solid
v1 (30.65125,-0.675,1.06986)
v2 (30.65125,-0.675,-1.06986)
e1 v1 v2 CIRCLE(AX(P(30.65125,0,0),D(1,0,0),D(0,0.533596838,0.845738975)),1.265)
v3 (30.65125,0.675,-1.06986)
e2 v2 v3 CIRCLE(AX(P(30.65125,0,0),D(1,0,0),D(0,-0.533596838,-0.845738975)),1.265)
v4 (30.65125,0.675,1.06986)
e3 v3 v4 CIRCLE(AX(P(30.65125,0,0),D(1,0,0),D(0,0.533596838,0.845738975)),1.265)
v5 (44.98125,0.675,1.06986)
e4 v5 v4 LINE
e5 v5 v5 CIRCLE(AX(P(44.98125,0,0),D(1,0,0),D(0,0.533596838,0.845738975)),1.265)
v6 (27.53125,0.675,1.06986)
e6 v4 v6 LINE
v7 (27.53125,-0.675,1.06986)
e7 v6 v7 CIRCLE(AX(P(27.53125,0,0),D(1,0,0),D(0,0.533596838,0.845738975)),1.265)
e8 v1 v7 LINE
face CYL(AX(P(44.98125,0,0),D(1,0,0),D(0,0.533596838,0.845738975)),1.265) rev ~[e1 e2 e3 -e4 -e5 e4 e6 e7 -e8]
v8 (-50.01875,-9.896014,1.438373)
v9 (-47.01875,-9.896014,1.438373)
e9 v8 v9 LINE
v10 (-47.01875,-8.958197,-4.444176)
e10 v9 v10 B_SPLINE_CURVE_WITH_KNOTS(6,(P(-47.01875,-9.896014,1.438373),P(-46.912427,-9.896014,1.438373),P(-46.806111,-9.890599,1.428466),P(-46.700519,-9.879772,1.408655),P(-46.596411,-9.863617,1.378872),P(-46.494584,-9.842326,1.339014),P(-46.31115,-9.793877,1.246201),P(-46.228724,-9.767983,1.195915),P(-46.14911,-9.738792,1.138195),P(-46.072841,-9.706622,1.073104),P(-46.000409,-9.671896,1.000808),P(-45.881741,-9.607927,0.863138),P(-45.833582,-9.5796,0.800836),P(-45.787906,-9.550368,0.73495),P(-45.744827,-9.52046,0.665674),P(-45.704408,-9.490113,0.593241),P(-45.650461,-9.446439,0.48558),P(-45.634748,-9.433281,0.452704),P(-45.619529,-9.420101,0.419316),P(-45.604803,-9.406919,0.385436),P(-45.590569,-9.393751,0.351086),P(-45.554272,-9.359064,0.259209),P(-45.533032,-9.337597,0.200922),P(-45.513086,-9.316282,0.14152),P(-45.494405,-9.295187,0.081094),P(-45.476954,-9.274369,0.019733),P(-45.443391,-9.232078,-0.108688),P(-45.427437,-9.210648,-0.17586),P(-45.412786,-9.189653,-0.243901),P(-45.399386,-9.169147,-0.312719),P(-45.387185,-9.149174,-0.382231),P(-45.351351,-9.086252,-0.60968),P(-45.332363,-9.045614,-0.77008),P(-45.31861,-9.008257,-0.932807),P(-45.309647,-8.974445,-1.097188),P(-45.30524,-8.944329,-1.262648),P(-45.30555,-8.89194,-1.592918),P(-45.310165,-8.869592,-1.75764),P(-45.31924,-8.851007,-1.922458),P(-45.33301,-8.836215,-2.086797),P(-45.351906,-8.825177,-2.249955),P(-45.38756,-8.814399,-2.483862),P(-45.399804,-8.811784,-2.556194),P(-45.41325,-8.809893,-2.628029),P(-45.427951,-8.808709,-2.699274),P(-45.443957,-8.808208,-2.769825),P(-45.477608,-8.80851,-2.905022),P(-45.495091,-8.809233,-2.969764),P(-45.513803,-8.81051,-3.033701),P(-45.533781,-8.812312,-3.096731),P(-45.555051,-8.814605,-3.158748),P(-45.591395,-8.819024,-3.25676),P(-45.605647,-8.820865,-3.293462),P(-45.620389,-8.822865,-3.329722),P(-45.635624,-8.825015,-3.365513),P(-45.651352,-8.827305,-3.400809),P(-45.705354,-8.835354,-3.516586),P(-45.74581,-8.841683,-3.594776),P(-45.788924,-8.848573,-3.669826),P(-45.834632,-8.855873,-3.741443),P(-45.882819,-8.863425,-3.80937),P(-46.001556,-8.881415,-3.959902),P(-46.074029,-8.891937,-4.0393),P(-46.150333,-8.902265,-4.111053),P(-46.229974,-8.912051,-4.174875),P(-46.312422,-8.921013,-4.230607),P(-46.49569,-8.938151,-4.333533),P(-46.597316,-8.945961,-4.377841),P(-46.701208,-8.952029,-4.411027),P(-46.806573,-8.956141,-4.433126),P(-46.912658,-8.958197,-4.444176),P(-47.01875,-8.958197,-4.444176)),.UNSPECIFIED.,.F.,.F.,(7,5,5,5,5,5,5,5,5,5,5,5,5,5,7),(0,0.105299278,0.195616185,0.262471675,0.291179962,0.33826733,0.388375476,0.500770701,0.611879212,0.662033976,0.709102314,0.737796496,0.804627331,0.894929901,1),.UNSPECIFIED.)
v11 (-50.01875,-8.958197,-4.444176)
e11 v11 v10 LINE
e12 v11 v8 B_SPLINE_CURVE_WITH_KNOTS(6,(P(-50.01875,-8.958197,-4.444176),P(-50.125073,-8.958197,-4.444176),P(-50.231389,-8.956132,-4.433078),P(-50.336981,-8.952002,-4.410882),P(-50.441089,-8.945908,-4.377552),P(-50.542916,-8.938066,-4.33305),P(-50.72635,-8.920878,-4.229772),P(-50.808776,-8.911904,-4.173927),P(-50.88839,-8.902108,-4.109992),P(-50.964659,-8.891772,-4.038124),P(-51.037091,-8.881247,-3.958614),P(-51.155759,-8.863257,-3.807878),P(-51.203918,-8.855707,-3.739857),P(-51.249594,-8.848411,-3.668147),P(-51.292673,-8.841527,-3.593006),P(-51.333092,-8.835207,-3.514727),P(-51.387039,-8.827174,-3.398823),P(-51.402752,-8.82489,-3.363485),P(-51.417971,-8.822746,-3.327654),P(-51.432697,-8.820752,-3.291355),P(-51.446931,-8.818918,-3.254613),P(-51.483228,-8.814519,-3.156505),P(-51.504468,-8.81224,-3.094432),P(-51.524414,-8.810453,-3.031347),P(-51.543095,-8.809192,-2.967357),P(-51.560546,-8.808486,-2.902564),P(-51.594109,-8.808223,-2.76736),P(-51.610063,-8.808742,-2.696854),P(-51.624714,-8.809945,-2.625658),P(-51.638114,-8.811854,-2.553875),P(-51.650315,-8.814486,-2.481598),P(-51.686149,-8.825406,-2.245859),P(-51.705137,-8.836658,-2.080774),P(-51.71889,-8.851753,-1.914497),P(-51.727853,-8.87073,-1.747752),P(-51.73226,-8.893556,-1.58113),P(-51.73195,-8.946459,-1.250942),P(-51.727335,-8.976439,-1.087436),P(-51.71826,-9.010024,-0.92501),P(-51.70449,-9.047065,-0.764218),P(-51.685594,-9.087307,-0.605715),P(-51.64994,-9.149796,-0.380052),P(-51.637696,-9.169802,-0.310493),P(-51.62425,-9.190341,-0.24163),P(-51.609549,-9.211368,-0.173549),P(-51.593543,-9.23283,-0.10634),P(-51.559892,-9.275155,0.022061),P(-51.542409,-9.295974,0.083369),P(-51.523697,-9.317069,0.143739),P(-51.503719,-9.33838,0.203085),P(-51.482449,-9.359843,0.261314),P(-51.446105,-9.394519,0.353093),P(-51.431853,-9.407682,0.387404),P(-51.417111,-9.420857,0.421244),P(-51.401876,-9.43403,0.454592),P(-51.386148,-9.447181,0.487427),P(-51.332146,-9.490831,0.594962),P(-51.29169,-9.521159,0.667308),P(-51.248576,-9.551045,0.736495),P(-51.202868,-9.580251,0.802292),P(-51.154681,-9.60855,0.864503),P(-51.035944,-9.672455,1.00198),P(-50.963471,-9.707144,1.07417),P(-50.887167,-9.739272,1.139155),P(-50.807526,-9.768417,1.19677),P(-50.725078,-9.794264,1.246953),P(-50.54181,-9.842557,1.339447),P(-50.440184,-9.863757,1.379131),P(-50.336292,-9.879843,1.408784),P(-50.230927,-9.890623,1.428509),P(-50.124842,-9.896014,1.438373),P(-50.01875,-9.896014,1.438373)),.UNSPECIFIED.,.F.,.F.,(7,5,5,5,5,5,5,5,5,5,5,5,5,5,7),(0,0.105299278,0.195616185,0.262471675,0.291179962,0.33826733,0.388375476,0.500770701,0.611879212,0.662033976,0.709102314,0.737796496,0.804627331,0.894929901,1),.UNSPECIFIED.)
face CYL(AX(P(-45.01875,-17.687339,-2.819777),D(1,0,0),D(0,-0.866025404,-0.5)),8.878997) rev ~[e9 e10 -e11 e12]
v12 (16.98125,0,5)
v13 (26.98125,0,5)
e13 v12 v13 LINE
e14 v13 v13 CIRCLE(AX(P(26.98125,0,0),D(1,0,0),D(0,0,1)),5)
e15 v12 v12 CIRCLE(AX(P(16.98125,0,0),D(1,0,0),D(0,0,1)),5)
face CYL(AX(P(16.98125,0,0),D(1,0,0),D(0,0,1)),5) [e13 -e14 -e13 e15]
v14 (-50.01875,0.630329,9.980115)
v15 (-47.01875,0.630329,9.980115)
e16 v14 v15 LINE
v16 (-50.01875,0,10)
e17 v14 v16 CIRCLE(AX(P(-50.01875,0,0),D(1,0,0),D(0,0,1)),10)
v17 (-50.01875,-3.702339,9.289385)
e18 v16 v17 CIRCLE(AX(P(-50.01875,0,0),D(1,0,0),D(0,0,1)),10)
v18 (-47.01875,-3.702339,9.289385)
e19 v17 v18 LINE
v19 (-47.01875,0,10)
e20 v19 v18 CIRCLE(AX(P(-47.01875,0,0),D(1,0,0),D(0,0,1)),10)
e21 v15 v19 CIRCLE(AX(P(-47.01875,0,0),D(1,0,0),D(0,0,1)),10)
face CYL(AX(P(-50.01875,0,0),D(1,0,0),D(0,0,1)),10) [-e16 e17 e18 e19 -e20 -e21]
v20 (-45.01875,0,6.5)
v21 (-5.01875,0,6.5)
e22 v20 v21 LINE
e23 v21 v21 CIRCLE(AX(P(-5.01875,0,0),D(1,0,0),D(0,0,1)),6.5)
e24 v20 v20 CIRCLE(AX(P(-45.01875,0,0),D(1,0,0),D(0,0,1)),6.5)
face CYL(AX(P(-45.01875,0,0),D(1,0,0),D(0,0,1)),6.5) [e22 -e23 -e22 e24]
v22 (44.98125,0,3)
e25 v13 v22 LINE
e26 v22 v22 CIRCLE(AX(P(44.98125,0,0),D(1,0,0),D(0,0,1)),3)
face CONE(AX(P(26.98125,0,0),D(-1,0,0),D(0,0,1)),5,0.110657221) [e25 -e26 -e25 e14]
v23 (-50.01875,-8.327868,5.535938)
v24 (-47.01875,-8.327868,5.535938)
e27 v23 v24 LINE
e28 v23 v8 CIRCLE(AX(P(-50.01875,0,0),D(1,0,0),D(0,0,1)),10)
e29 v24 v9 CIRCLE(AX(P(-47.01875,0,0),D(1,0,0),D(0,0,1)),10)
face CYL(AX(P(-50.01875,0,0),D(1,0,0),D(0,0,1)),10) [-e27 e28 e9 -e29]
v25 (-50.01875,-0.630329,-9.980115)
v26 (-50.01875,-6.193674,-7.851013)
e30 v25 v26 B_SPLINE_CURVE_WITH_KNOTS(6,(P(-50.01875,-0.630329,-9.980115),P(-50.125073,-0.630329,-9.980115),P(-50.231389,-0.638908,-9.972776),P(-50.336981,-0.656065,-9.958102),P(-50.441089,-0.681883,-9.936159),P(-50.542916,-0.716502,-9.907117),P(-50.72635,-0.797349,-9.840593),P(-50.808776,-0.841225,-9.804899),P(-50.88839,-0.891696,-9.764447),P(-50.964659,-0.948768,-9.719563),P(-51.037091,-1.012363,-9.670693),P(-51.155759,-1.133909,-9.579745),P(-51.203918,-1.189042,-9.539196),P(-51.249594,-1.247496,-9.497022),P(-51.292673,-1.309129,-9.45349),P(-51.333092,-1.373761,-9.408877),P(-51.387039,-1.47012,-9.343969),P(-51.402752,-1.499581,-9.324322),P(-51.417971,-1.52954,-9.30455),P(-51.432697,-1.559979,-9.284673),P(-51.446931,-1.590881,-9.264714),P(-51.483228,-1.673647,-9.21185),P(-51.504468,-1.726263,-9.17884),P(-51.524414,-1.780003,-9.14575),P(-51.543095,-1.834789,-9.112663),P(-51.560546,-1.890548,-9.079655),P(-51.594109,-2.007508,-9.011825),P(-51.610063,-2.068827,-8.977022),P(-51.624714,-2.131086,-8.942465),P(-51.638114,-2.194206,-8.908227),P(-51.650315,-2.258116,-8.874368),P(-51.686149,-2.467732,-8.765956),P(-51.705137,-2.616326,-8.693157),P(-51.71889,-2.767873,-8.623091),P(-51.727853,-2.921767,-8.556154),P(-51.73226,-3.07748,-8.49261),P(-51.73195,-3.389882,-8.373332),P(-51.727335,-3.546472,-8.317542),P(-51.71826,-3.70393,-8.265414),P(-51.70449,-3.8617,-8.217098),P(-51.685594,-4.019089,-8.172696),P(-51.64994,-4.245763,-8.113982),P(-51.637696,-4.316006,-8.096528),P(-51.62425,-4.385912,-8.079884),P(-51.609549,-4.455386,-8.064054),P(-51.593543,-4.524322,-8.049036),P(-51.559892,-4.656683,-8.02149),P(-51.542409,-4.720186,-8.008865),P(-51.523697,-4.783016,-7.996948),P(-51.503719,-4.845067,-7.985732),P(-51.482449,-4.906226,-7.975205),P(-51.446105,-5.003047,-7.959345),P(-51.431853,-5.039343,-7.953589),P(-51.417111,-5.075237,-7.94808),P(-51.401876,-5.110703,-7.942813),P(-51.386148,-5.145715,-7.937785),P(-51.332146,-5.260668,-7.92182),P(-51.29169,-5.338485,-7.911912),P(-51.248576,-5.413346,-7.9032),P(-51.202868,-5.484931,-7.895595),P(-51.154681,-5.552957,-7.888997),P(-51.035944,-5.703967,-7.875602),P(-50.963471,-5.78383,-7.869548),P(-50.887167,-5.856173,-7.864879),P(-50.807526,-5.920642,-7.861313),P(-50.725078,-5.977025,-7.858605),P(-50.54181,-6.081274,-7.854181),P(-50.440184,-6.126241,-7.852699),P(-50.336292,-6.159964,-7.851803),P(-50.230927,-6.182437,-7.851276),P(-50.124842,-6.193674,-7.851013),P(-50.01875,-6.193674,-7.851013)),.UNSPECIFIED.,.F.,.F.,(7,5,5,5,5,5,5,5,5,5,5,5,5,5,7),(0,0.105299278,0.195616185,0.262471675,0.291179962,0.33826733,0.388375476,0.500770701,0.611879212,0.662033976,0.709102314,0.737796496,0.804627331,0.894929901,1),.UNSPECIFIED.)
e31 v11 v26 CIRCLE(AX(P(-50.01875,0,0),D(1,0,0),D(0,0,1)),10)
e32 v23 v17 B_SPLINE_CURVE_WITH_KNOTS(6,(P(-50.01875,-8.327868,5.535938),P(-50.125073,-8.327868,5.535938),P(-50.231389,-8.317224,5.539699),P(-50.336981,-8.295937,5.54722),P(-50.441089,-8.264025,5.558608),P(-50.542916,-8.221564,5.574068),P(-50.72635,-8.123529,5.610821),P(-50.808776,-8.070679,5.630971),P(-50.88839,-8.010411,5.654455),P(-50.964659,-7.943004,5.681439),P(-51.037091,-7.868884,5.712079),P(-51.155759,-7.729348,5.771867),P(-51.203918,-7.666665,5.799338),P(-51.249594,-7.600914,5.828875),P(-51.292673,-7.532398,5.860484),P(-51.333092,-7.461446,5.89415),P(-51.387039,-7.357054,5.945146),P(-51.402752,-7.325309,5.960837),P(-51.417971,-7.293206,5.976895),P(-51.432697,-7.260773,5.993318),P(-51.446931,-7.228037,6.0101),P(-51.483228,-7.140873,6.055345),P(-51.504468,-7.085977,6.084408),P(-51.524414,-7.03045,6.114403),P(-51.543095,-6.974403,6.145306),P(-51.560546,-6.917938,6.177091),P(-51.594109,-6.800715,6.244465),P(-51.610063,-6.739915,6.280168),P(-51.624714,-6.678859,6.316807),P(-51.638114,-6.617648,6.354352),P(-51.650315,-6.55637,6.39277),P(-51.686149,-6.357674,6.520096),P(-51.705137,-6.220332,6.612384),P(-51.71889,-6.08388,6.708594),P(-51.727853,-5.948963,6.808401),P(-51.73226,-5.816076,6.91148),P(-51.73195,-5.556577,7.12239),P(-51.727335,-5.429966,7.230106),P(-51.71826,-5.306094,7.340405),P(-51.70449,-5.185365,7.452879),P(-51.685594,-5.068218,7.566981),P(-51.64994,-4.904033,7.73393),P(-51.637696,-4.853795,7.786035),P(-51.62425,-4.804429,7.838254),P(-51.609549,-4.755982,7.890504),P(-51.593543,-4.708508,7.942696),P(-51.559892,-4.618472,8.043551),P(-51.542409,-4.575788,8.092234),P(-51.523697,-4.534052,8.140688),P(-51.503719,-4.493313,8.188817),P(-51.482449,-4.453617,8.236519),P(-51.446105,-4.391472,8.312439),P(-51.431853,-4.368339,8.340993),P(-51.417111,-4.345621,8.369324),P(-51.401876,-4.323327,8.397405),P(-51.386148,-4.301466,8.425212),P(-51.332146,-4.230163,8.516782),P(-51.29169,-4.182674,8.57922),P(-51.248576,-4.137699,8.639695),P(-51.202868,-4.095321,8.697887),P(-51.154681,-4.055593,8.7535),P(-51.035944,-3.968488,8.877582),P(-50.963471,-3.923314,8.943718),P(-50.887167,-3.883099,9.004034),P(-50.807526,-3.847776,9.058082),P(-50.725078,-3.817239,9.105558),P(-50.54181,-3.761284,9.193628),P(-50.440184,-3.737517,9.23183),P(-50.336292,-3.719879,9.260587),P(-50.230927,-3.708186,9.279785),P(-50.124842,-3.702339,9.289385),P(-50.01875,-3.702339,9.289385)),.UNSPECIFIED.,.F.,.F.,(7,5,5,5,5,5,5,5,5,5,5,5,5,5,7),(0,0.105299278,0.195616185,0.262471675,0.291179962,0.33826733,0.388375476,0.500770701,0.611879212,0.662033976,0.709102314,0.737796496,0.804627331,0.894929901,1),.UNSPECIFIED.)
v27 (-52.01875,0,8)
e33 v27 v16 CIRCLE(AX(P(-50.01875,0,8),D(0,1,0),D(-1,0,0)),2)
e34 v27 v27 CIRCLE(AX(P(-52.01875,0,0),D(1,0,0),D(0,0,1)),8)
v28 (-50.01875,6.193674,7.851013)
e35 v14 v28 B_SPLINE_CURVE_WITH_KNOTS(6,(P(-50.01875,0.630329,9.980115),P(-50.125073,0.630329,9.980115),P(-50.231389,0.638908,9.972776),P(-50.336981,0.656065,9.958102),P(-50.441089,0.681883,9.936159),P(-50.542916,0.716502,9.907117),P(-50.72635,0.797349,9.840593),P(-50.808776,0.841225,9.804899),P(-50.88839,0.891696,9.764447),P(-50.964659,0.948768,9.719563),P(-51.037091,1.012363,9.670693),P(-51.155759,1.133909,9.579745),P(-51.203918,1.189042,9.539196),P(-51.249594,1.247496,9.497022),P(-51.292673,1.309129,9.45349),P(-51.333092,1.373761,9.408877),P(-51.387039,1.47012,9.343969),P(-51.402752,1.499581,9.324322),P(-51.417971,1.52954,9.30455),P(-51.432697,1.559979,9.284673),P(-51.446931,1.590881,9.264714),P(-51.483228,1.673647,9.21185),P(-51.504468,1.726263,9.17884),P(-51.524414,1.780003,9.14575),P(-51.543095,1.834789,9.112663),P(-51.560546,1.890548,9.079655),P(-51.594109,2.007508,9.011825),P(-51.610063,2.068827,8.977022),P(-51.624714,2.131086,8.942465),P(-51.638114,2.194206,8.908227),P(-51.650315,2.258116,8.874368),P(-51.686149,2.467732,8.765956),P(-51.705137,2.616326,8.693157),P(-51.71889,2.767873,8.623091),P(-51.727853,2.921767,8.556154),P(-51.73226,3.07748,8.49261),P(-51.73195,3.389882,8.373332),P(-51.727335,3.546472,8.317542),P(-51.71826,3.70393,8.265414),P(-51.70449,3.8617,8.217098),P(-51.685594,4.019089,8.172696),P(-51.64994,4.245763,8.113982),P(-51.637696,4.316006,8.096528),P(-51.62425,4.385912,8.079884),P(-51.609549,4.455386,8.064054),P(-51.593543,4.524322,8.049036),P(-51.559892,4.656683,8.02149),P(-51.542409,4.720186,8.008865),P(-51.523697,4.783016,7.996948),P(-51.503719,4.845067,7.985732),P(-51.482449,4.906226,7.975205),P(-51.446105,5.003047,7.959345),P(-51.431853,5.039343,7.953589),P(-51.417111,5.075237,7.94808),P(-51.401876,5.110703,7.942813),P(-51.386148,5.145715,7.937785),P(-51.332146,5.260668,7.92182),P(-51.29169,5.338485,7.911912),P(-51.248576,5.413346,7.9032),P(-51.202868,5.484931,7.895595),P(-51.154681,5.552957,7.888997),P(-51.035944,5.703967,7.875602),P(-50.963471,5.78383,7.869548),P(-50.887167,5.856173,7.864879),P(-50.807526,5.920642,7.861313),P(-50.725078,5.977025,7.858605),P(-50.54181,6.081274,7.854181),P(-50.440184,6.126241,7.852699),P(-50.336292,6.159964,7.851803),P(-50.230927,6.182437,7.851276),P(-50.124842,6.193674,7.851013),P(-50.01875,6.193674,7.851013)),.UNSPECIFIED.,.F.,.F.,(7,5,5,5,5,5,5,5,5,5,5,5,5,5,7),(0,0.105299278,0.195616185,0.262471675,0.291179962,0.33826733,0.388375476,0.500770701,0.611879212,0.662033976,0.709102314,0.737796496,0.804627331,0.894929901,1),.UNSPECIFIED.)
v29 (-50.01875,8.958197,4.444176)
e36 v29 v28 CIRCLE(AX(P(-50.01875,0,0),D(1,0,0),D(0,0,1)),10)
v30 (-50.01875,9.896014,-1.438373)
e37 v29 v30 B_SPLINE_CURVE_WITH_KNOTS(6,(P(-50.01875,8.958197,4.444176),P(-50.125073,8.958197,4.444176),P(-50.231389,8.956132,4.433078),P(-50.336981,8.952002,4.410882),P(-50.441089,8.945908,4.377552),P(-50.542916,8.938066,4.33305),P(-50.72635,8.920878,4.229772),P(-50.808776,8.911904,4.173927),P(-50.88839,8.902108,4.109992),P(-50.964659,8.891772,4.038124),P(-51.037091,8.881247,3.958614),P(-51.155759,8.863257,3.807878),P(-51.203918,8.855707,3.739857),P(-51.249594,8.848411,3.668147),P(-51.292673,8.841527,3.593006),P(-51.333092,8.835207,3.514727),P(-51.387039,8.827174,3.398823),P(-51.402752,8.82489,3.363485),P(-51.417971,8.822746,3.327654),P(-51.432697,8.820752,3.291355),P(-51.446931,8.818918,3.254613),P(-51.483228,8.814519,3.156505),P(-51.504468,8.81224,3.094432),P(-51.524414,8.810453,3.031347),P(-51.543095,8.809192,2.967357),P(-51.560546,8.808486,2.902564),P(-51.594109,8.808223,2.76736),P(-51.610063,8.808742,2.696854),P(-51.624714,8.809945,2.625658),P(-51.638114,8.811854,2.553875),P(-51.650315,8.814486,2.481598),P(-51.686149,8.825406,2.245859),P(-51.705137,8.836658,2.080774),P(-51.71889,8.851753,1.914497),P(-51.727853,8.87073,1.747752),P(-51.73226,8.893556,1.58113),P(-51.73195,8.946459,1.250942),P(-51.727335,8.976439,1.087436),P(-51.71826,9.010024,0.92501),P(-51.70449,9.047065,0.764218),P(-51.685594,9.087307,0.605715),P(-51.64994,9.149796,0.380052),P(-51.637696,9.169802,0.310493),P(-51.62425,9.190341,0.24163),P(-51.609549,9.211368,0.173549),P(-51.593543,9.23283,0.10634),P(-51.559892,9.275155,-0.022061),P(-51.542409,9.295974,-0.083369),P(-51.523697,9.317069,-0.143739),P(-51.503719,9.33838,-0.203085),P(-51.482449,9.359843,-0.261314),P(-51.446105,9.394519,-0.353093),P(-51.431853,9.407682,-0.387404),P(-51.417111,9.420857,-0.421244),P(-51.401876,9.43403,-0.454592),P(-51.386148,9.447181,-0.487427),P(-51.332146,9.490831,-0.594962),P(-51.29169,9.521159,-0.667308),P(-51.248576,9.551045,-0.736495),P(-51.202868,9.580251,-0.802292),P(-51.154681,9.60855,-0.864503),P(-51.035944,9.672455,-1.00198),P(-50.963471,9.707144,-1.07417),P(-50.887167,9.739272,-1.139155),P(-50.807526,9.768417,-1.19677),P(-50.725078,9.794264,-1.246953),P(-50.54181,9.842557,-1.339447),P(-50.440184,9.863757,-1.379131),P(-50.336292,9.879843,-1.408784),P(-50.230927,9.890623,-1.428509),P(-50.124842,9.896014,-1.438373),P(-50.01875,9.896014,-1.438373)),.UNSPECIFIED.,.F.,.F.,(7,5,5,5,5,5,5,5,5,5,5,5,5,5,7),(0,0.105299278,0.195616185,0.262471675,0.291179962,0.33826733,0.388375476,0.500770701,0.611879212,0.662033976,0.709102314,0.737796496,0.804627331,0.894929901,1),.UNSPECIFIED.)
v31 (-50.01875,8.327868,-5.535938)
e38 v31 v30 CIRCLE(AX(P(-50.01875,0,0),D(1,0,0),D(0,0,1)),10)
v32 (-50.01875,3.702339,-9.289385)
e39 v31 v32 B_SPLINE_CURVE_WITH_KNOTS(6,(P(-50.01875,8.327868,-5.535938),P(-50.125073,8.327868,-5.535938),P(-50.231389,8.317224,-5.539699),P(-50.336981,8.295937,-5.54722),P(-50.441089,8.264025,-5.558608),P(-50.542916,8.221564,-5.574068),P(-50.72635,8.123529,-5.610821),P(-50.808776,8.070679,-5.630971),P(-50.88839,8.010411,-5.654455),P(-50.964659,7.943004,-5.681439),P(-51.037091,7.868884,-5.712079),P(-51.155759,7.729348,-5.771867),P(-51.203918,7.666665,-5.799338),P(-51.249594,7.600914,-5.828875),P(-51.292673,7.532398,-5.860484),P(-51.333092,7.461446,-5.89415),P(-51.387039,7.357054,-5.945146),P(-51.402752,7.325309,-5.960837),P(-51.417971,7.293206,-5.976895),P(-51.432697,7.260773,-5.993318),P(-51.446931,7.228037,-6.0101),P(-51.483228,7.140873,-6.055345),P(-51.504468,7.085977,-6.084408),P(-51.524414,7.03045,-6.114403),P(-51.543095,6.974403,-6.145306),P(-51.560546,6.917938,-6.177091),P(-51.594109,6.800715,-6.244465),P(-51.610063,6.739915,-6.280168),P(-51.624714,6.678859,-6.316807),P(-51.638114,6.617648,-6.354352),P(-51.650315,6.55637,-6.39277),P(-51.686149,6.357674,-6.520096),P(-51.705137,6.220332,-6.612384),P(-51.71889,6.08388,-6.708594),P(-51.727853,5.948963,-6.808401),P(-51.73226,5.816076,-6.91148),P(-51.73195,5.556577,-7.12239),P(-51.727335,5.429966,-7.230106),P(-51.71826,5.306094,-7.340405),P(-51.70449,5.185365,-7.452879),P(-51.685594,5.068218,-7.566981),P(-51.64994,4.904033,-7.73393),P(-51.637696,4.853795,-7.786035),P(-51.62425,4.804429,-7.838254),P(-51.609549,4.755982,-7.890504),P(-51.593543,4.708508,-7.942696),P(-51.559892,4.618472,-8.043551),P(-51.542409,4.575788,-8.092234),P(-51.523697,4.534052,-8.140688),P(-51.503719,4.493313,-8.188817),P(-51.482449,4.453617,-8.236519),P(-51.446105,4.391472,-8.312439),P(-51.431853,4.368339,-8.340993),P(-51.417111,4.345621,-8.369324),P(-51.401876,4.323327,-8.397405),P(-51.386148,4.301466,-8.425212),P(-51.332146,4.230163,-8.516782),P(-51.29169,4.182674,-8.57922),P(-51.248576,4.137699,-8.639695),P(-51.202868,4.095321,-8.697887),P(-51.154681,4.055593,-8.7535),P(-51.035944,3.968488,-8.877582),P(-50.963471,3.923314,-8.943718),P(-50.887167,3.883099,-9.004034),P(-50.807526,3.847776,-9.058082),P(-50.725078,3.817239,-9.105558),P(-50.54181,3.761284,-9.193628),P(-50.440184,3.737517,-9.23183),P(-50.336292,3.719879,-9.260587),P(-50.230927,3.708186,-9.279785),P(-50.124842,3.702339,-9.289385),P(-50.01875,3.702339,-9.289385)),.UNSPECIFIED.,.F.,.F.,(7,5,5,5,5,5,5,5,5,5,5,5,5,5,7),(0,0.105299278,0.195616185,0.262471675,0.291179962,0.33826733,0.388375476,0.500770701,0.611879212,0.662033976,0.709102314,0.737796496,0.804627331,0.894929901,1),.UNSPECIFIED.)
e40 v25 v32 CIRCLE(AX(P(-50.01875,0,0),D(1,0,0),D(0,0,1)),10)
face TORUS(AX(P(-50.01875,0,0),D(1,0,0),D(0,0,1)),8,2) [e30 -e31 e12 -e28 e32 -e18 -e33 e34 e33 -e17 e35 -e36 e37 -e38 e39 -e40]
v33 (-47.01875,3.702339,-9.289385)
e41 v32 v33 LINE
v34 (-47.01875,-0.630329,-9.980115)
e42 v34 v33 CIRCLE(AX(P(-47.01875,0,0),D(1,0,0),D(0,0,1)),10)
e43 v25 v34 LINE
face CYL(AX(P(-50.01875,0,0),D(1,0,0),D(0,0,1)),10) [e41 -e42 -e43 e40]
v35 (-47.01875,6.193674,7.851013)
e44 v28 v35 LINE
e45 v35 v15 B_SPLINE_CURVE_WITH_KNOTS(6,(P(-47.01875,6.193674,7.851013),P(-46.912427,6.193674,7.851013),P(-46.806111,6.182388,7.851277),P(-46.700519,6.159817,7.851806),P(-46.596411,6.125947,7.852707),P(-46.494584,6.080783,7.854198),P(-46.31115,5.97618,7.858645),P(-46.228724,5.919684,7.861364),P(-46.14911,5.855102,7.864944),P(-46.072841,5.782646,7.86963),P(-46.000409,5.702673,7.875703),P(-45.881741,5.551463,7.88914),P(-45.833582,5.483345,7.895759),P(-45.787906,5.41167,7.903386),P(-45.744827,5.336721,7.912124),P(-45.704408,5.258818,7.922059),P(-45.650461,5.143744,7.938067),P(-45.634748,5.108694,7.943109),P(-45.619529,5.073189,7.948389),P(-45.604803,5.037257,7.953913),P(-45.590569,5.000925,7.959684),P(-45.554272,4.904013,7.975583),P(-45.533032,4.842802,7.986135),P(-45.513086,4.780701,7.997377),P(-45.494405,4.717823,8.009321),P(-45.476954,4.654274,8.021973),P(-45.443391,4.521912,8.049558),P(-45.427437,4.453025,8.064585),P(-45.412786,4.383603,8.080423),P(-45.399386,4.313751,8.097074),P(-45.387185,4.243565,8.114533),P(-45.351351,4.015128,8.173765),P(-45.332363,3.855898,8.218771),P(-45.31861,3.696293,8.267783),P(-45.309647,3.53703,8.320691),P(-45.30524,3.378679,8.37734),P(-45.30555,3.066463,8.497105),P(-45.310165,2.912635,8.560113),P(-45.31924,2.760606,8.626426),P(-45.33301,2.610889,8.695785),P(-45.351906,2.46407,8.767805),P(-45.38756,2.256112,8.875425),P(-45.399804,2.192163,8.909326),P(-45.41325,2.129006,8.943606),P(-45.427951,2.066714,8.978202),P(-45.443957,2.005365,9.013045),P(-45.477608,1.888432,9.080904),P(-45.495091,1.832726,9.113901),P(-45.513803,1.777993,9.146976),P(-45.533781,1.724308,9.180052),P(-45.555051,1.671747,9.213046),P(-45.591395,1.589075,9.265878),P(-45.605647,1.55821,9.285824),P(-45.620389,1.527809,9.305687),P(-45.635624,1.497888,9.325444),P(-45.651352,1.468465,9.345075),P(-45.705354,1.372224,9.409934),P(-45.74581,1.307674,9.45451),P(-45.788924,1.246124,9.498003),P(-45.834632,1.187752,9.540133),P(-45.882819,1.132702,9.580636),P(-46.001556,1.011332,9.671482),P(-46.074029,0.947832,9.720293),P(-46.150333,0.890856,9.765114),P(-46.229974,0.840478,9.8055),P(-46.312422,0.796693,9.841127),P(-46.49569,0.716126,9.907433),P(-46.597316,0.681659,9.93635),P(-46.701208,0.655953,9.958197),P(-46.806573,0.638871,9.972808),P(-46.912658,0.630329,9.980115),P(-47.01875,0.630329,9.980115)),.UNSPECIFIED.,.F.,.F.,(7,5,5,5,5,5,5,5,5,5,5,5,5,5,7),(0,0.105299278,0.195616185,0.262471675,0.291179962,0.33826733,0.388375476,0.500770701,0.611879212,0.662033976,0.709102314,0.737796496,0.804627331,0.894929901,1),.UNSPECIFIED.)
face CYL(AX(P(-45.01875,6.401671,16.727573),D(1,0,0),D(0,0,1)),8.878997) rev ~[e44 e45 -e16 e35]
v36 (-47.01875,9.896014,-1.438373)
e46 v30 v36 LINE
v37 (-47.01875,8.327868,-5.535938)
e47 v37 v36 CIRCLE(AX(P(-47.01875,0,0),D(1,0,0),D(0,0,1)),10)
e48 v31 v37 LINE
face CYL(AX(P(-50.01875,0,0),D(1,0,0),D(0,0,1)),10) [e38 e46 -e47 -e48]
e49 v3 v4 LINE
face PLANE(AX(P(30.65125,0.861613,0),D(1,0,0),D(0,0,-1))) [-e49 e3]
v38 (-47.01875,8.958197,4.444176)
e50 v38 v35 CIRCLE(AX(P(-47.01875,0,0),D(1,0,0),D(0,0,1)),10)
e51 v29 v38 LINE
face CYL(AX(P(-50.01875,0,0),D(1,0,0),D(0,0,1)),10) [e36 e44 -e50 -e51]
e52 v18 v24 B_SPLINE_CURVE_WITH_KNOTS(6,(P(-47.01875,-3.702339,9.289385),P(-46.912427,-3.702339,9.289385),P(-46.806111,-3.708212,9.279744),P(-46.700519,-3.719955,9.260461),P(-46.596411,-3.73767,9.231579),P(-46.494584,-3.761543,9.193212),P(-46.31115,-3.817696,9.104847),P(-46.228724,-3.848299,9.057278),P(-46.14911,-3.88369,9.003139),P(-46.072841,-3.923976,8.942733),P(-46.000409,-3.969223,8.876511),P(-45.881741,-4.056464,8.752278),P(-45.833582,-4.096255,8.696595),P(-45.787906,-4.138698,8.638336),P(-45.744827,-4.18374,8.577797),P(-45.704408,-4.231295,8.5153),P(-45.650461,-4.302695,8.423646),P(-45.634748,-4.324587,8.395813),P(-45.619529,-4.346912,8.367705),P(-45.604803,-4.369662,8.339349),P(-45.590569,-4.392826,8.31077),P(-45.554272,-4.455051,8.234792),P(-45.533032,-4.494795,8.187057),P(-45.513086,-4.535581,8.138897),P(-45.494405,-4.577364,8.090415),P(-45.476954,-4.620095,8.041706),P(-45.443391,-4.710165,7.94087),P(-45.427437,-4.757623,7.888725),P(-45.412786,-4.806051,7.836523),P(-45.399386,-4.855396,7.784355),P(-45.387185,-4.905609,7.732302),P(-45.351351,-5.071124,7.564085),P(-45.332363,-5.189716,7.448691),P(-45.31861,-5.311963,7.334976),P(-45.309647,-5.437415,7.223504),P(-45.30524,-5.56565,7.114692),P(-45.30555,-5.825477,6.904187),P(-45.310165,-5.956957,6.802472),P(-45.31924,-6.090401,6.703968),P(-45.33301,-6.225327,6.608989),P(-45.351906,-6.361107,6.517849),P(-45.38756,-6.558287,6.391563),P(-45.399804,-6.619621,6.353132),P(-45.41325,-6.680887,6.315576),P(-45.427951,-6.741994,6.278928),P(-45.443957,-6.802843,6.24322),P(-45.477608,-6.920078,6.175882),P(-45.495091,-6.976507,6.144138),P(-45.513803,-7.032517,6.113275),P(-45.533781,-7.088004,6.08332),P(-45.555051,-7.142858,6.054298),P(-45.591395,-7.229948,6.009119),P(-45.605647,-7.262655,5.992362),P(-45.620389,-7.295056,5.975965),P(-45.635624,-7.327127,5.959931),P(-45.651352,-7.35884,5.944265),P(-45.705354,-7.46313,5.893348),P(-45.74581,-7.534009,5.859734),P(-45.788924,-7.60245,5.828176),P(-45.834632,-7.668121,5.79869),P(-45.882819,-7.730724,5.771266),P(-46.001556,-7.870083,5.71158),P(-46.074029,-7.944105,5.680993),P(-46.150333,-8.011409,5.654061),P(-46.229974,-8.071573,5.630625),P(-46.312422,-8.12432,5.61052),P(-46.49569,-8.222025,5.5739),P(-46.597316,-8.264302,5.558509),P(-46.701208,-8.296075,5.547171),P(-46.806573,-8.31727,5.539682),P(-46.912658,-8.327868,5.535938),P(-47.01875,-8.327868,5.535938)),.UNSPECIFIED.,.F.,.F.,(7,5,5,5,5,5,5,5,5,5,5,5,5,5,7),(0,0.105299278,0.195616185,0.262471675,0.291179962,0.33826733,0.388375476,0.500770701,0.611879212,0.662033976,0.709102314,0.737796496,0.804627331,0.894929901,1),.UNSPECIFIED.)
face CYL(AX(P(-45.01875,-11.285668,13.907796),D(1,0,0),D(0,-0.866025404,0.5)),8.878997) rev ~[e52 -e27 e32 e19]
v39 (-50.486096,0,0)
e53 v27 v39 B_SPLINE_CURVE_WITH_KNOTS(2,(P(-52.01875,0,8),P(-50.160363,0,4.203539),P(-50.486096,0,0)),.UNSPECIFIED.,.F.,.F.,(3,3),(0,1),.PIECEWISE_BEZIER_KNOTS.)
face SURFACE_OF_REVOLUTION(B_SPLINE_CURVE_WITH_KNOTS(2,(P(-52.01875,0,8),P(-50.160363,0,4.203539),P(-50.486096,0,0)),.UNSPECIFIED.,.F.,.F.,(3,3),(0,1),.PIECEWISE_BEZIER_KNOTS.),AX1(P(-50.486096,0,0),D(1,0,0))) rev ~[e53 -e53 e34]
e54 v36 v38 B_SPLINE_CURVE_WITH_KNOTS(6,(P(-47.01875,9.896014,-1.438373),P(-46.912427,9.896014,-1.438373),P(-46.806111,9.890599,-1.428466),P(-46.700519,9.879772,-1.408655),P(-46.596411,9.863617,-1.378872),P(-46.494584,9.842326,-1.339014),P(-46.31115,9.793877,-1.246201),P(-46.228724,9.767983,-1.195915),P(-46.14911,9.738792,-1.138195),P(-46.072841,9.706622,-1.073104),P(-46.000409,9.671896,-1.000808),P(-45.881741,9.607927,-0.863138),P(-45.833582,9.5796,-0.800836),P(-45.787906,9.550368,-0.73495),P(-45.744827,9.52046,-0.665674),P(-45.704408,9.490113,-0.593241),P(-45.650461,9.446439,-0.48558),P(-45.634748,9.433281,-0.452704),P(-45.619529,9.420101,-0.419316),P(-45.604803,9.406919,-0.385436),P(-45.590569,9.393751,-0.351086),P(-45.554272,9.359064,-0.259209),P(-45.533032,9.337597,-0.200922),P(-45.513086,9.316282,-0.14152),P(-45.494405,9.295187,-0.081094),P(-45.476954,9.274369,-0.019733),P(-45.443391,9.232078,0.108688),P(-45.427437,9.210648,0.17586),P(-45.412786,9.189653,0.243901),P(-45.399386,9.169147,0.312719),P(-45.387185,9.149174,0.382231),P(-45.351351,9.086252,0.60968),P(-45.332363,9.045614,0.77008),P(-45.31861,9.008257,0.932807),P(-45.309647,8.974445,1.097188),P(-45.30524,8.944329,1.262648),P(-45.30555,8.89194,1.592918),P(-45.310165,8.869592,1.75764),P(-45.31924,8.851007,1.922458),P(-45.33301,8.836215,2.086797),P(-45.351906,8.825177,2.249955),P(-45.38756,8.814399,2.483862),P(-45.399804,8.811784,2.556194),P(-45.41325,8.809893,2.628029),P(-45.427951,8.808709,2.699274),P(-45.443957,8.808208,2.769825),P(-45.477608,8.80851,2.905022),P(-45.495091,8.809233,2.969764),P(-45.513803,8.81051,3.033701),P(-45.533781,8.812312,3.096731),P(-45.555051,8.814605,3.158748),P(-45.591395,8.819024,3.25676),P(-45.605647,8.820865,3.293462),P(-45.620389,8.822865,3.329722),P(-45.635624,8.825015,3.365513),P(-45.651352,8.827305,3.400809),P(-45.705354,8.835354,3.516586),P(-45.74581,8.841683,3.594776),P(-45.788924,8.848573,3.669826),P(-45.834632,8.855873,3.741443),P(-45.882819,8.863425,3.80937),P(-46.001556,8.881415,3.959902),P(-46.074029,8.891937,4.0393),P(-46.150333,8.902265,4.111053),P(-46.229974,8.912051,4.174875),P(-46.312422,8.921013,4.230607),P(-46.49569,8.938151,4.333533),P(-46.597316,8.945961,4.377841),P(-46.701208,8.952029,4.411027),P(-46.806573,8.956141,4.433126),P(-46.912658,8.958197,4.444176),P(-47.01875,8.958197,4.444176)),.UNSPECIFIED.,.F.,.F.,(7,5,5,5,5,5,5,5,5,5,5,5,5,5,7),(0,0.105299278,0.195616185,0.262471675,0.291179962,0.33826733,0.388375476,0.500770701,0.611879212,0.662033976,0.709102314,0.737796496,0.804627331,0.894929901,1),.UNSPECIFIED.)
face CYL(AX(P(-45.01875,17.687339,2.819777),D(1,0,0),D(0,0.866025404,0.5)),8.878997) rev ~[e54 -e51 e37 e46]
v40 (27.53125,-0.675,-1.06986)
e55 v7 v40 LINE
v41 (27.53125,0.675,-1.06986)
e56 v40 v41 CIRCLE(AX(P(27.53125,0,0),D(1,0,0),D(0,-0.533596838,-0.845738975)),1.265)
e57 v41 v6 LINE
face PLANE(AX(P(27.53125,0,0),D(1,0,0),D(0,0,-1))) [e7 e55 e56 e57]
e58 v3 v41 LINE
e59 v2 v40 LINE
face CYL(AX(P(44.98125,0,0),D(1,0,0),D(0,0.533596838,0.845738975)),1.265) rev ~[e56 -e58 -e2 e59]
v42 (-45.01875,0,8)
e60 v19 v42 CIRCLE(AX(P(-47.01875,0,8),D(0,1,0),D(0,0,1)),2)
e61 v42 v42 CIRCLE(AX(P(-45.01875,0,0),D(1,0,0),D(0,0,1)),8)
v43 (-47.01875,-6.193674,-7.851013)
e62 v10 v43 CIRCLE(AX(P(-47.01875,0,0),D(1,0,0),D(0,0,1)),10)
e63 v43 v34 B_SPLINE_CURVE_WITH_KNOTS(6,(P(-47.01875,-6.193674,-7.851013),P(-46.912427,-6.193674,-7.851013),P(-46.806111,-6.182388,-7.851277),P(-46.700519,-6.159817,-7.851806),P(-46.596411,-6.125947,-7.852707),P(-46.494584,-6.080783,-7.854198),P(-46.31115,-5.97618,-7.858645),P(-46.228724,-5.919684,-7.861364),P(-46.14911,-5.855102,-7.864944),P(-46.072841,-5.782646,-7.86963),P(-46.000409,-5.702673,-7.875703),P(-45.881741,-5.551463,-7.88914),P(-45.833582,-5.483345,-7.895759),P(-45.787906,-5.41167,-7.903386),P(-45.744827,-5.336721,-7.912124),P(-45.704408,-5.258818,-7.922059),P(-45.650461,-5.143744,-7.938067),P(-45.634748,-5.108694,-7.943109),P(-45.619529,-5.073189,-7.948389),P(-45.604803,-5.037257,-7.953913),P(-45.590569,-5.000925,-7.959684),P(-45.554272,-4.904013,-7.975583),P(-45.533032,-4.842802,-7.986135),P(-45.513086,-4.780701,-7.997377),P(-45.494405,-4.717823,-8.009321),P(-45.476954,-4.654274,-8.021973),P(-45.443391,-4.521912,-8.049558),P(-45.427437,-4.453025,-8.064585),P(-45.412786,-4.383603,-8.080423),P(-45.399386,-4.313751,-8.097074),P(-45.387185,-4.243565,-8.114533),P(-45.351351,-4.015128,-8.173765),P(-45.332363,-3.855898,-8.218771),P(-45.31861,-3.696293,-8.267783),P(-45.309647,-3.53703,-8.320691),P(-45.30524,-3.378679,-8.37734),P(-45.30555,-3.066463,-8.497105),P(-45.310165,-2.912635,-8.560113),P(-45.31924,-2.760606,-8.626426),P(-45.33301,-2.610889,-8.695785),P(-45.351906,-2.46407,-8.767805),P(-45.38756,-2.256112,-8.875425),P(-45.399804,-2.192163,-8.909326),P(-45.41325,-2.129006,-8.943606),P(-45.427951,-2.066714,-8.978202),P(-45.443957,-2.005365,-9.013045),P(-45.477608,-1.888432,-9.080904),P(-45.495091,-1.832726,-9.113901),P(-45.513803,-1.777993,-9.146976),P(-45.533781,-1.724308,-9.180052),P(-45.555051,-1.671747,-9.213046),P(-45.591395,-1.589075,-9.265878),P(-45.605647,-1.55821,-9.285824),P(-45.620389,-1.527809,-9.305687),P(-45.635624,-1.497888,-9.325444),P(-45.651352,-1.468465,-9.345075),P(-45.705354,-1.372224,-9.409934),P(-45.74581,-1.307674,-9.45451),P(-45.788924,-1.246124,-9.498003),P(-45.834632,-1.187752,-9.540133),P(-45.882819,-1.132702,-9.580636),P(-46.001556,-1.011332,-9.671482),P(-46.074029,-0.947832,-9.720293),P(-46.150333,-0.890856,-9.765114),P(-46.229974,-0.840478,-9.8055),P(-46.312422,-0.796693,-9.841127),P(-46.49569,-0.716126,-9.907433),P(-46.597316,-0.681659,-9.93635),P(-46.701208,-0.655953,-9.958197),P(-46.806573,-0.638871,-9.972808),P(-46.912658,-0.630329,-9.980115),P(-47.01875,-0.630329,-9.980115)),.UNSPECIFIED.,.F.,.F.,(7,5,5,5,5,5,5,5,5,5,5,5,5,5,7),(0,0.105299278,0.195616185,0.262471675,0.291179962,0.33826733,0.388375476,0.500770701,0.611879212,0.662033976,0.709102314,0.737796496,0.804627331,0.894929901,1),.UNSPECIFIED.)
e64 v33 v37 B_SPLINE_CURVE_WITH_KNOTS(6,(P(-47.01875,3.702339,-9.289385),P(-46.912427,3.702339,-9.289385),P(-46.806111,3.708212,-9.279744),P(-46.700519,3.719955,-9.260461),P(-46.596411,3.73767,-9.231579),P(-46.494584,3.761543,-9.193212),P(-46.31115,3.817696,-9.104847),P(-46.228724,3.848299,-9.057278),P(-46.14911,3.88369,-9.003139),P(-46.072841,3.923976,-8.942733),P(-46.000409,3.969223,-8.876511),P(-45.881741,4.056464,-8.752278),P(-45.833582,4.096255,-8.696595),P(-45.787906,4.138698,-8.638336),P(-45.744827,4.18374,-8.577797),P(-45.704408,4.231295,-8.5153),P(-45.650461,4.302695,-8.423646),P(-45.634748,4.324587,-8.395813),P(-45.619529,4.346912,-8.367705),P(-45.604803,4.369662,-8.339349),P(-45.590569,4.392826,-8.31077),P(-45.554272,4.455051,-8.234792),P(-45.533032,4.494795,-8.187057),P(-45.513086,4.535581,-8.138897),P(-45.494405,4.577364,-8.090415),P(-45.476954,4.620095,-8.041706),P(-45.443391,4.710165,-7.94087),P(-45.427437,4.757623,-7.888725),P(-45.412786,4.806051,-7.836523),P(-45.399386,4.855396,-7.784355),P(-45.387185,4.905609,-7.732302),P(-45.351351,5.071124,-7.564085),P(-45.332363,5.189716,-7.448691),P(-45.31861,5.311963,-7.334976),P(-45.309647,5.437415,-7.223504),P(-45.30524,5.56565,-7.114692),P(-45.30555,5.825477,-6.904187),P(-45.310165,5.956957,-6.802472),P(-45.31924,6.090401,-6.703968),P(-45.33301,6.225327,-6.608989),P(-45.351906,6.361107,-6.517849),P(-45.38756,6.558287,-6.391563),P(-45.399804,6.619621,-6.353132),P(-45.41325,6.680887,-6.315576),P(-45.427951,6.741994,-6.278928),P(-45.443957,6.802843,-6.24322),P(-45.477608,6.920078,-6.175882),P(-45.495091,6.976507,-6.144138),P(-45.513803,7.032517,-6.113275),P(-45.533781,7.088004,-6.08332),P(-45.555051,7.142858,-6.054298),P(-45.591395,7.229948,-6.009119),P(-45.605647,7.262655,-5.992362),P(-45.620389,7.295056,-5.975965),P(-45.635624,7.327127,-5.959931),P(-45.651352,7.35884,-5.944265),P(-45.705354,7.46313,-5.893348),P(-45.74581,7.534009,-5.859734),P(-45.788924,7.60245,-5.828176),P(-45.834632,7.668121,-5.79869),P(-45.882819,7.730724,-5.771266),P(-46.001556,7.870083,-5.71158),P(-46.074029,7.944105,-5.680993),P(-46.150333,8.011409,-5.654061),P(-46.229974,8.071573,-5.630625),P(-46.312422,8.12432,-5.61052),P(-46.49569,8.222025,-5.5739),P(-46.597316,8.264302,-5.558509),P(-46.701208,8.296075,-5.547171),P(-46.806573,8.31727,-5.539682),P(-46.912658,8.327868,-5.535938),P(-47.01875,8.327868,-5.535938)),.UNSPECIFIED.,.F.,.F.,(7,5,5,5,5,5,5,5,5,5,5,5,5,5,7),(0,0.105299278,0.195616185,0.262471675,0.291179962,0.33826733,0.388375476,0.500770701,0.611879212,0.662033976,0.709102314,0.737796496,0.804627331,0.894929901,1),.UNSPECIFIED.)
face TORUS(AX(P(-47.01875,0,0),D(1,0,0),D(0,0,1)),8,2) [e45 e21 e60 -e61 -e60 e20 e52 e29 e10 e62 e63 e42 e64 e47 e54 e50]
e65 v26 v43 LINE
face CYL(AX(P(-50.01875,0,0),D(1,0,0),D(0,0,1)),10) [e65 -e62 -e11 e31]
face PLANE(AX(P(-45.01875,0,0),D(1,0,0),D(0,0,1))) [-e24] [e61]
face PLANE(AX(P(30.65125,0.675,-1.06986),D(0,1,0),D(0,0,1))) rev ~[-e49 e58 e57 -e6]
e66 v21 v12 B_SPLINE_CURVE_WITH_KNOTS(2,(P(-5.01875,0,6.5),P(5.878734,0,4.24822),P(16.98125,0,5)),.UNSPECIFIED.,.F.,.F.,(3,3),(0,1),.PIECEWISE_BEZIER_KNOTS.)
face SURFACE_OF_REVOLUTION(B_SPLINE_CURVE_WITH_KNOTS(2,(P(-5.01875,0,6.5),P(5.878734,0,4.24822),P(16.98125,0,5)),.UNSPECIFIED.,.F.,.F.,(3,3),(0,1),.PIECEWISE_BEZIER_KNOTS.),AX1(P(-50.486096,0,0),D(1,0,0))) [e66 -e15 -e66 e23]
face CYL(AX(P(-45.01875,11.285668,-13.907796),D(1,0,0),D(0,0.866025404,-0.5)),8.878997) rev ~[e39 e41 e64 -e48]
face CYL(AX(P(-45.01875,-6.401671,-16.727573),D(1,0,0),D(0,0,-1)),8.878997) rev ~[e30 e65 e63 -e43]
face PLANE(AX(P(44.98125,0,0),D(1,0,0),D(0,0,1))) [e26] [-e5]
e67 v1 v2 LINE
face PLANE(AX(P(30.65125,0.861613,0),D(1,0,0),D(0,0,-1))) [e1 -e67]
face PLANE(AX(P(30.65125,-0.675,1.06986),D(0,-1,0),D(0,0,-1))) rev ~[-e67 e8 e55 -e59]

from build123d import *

# Parameters (mm, degrees)
CUT_EXTRUDE1_DEPTH = 14.329999999999998
CUT_EXTRUDE2_START = -14.33
CUT_EXTRUDE2_DEPTH = 3.12
SKETCH3_R          = 8.878997023709873
CUT_EXTRUDE3_DEPTH = 10
CIRPATTERN1_COUNT  = 6


with BuildPart() as part:
    # Sketch1 → Revolve1 (revolve)
    with BuildSketch(Plane.XY, mode=Mode.PRIVATE) as revolve1_sk:
        with BuildLine():
            Line((0, 0), (-50.4860955695321, 0))
            add(Edge.make_bspline(
                [(-52.01874999999999, 7.99999999999998), (-50.16036303063599, 4.2035390390822025), (-50.4860955695321, 0)],
                knots=[0, 0, 0, 1, 1, 1], degree=2))
            ThreePointArc((-52.01874999999999, 7.99999999999998), (-51.43296356237308, 9.414213562373089), (-50.018749999999976, 9.999999999999993))
            Line((-50.018749999999976, 9.999999999999993), (-47.018750000000004, 9.999999999999993))
            ThreePointArc((-47.018750000000004, 9.999999999999993), (-45.6045364376269, 9.414213562373089), (-45.01874999999999, 7.99999999999998))
            Line((-45.01874999999999, 7.99999999999998), (-45.01874999999999, 6.499999999999996))
            Line((-45.01874999999999, 6.499999999999996), (-5.018749999999988, 6.499999999999994))
            add(Edge.make_bspline(
                [(-5.018749999999988, 6.499999999999994), (5.878733880748029, 4.24822033263461), (16.98125000000001, 5.000000000000002)],
                knots=[0, 0, 0, 1, 1, 1], degree=2))
            Line((16.98125000000001, 5.000000000000002), (26.981250000000014, 5.000000000000003))
            Line((26.981250000000014, 5.000000000000003), (44.98125000000002, 3.0000000000000058))
            Line((44.98125000000002, 3.0000000000000058), (44.98125000000002, 5.51e-15))
            Line((44.98125000000002, 5.51e-15), (0, 0))
        make_face()
    revolve(revolve1_sk.sketch.rotate(Axis((-50.4860955695321, 0, 0), (1, 0, 0)), 90), axis=Axis((-50.4860955695321, 0, 0), (1, 0, 0)))

    # Sketch2 → Cut-Extrude1 (cut)
    with BuildSketch(Plane(origin=(44.98125000000002, 0, 0), x_dir=(0, 0, -1), z_dir=(1, 0, 0))):
        with BuildLine():
            ThreePointArc((1.0698598038995577, 0.6749999999999999), (8e-17, 1.265), (-1.0698598038995573, 0.6750000000000003))
            Line((-1.0698598038995575, 0.675), (1.0698598038995575, 0.675))
        make_face()
        with BuildLine():
            Line((1.0698598038995575, -0.675), (-1.0698598038995575, -0.675))
            ThreePointArc((-1.0698598038995577, -0.6749999999999999), (-2.3e-16, -1.265), (1.0698598038995577, -0.6749999999999998))
        make_face()
        with BuildLine():
            ThreePointArc((-1.0698598038995573, 0.6750000000000003), (-1.265, 1.5e-16), (-1.0698598038995577, -0.6749999999999999))
            Line((-1.0698598038995575, -0.675), (1.0698598038995575, -0.675))
            ThreePointArc((1.0698598038995577, -0.6749999999999998), (1.2152361194296644, -0.3513206143019937), (1.265, -3.1e-16))
            ThreePointArc((1.265, 0), (1.2152361194296646, 0.351320614301993), (1.0698598038995577, 0.6749999999999999))
            Line((1.0698598038995575, 0.675), (-1.0698598038995575, 0.675))
        make_face()
    extrude(amount=-CUT_EXTRUDE1_DEPTH, mode=Mode.SUBTRACT)

    # Sketch2<3> → Cut-Extrude2 (cut)
    with BuildSketch(Plane(origin=(44.98125000000002, 0, 0), x_dir=(0, 0, -1), z_dir=(1, 0, 0)).offset(CUT_EXTRUDE2_START)):
        with BuildLine():
            ThreePointArc((-1.0698598038995573, 0.6750000000000003), (-1.265, 1.5e-16), (-1.0698598038995577, -0.6749999999999999))
            Line((-1.0698598038995575, -0.675), (1.0698598038995575, -0.675))
            ThreePointArc((1.0698598038995577, -0.6749999999999998), (1.2152361194296644, -0.3513206143019937), (1.265, -3.1e-16))
            ThreePointArc((1.265, 0), (1.2152361194296646, 0.351320614301993), (1.0698598038995577, 0.6749999999999999))
            Line((1.0698598038995575, 0.675), (-1.0698598038995575, 0.675))
        make_face()
    extrude(amount=-CUT_EXTRUDE2_DEPTH, mode=Mode.SUBTRACT)

    # Sketch3 → Cut-Extrude3 (cut)
    with BuildSketch(Plane(origin=(-45.01874999999999, 0, 0), x_dir=(0, 0, -1), z_dir=(1, 0, 0))):
        with Locations((16.727573230529202, -6.401670880419097)):
            Circle(SKETCH3_R)
    cut_extrude3 = extrude(amount=-CUT_EXTRUDE3_DEPTH, mode=Mode.SUBTRACT)

    # CirPattern1: Cut-Extrude3 ×6 about axis
    cirpattern1_axis = Axis((0, -1.97e-14, 8.2e-15), (1, 0, 0))
    for i in range(1, CIRPATTERN1_COUNT):
        add(cut_extrude3.rotate(cirpattern1_axis, i * 360 / CIRPATTERN1_COUNT), mode=Mode.SUBTRACT)


solid = part.part
